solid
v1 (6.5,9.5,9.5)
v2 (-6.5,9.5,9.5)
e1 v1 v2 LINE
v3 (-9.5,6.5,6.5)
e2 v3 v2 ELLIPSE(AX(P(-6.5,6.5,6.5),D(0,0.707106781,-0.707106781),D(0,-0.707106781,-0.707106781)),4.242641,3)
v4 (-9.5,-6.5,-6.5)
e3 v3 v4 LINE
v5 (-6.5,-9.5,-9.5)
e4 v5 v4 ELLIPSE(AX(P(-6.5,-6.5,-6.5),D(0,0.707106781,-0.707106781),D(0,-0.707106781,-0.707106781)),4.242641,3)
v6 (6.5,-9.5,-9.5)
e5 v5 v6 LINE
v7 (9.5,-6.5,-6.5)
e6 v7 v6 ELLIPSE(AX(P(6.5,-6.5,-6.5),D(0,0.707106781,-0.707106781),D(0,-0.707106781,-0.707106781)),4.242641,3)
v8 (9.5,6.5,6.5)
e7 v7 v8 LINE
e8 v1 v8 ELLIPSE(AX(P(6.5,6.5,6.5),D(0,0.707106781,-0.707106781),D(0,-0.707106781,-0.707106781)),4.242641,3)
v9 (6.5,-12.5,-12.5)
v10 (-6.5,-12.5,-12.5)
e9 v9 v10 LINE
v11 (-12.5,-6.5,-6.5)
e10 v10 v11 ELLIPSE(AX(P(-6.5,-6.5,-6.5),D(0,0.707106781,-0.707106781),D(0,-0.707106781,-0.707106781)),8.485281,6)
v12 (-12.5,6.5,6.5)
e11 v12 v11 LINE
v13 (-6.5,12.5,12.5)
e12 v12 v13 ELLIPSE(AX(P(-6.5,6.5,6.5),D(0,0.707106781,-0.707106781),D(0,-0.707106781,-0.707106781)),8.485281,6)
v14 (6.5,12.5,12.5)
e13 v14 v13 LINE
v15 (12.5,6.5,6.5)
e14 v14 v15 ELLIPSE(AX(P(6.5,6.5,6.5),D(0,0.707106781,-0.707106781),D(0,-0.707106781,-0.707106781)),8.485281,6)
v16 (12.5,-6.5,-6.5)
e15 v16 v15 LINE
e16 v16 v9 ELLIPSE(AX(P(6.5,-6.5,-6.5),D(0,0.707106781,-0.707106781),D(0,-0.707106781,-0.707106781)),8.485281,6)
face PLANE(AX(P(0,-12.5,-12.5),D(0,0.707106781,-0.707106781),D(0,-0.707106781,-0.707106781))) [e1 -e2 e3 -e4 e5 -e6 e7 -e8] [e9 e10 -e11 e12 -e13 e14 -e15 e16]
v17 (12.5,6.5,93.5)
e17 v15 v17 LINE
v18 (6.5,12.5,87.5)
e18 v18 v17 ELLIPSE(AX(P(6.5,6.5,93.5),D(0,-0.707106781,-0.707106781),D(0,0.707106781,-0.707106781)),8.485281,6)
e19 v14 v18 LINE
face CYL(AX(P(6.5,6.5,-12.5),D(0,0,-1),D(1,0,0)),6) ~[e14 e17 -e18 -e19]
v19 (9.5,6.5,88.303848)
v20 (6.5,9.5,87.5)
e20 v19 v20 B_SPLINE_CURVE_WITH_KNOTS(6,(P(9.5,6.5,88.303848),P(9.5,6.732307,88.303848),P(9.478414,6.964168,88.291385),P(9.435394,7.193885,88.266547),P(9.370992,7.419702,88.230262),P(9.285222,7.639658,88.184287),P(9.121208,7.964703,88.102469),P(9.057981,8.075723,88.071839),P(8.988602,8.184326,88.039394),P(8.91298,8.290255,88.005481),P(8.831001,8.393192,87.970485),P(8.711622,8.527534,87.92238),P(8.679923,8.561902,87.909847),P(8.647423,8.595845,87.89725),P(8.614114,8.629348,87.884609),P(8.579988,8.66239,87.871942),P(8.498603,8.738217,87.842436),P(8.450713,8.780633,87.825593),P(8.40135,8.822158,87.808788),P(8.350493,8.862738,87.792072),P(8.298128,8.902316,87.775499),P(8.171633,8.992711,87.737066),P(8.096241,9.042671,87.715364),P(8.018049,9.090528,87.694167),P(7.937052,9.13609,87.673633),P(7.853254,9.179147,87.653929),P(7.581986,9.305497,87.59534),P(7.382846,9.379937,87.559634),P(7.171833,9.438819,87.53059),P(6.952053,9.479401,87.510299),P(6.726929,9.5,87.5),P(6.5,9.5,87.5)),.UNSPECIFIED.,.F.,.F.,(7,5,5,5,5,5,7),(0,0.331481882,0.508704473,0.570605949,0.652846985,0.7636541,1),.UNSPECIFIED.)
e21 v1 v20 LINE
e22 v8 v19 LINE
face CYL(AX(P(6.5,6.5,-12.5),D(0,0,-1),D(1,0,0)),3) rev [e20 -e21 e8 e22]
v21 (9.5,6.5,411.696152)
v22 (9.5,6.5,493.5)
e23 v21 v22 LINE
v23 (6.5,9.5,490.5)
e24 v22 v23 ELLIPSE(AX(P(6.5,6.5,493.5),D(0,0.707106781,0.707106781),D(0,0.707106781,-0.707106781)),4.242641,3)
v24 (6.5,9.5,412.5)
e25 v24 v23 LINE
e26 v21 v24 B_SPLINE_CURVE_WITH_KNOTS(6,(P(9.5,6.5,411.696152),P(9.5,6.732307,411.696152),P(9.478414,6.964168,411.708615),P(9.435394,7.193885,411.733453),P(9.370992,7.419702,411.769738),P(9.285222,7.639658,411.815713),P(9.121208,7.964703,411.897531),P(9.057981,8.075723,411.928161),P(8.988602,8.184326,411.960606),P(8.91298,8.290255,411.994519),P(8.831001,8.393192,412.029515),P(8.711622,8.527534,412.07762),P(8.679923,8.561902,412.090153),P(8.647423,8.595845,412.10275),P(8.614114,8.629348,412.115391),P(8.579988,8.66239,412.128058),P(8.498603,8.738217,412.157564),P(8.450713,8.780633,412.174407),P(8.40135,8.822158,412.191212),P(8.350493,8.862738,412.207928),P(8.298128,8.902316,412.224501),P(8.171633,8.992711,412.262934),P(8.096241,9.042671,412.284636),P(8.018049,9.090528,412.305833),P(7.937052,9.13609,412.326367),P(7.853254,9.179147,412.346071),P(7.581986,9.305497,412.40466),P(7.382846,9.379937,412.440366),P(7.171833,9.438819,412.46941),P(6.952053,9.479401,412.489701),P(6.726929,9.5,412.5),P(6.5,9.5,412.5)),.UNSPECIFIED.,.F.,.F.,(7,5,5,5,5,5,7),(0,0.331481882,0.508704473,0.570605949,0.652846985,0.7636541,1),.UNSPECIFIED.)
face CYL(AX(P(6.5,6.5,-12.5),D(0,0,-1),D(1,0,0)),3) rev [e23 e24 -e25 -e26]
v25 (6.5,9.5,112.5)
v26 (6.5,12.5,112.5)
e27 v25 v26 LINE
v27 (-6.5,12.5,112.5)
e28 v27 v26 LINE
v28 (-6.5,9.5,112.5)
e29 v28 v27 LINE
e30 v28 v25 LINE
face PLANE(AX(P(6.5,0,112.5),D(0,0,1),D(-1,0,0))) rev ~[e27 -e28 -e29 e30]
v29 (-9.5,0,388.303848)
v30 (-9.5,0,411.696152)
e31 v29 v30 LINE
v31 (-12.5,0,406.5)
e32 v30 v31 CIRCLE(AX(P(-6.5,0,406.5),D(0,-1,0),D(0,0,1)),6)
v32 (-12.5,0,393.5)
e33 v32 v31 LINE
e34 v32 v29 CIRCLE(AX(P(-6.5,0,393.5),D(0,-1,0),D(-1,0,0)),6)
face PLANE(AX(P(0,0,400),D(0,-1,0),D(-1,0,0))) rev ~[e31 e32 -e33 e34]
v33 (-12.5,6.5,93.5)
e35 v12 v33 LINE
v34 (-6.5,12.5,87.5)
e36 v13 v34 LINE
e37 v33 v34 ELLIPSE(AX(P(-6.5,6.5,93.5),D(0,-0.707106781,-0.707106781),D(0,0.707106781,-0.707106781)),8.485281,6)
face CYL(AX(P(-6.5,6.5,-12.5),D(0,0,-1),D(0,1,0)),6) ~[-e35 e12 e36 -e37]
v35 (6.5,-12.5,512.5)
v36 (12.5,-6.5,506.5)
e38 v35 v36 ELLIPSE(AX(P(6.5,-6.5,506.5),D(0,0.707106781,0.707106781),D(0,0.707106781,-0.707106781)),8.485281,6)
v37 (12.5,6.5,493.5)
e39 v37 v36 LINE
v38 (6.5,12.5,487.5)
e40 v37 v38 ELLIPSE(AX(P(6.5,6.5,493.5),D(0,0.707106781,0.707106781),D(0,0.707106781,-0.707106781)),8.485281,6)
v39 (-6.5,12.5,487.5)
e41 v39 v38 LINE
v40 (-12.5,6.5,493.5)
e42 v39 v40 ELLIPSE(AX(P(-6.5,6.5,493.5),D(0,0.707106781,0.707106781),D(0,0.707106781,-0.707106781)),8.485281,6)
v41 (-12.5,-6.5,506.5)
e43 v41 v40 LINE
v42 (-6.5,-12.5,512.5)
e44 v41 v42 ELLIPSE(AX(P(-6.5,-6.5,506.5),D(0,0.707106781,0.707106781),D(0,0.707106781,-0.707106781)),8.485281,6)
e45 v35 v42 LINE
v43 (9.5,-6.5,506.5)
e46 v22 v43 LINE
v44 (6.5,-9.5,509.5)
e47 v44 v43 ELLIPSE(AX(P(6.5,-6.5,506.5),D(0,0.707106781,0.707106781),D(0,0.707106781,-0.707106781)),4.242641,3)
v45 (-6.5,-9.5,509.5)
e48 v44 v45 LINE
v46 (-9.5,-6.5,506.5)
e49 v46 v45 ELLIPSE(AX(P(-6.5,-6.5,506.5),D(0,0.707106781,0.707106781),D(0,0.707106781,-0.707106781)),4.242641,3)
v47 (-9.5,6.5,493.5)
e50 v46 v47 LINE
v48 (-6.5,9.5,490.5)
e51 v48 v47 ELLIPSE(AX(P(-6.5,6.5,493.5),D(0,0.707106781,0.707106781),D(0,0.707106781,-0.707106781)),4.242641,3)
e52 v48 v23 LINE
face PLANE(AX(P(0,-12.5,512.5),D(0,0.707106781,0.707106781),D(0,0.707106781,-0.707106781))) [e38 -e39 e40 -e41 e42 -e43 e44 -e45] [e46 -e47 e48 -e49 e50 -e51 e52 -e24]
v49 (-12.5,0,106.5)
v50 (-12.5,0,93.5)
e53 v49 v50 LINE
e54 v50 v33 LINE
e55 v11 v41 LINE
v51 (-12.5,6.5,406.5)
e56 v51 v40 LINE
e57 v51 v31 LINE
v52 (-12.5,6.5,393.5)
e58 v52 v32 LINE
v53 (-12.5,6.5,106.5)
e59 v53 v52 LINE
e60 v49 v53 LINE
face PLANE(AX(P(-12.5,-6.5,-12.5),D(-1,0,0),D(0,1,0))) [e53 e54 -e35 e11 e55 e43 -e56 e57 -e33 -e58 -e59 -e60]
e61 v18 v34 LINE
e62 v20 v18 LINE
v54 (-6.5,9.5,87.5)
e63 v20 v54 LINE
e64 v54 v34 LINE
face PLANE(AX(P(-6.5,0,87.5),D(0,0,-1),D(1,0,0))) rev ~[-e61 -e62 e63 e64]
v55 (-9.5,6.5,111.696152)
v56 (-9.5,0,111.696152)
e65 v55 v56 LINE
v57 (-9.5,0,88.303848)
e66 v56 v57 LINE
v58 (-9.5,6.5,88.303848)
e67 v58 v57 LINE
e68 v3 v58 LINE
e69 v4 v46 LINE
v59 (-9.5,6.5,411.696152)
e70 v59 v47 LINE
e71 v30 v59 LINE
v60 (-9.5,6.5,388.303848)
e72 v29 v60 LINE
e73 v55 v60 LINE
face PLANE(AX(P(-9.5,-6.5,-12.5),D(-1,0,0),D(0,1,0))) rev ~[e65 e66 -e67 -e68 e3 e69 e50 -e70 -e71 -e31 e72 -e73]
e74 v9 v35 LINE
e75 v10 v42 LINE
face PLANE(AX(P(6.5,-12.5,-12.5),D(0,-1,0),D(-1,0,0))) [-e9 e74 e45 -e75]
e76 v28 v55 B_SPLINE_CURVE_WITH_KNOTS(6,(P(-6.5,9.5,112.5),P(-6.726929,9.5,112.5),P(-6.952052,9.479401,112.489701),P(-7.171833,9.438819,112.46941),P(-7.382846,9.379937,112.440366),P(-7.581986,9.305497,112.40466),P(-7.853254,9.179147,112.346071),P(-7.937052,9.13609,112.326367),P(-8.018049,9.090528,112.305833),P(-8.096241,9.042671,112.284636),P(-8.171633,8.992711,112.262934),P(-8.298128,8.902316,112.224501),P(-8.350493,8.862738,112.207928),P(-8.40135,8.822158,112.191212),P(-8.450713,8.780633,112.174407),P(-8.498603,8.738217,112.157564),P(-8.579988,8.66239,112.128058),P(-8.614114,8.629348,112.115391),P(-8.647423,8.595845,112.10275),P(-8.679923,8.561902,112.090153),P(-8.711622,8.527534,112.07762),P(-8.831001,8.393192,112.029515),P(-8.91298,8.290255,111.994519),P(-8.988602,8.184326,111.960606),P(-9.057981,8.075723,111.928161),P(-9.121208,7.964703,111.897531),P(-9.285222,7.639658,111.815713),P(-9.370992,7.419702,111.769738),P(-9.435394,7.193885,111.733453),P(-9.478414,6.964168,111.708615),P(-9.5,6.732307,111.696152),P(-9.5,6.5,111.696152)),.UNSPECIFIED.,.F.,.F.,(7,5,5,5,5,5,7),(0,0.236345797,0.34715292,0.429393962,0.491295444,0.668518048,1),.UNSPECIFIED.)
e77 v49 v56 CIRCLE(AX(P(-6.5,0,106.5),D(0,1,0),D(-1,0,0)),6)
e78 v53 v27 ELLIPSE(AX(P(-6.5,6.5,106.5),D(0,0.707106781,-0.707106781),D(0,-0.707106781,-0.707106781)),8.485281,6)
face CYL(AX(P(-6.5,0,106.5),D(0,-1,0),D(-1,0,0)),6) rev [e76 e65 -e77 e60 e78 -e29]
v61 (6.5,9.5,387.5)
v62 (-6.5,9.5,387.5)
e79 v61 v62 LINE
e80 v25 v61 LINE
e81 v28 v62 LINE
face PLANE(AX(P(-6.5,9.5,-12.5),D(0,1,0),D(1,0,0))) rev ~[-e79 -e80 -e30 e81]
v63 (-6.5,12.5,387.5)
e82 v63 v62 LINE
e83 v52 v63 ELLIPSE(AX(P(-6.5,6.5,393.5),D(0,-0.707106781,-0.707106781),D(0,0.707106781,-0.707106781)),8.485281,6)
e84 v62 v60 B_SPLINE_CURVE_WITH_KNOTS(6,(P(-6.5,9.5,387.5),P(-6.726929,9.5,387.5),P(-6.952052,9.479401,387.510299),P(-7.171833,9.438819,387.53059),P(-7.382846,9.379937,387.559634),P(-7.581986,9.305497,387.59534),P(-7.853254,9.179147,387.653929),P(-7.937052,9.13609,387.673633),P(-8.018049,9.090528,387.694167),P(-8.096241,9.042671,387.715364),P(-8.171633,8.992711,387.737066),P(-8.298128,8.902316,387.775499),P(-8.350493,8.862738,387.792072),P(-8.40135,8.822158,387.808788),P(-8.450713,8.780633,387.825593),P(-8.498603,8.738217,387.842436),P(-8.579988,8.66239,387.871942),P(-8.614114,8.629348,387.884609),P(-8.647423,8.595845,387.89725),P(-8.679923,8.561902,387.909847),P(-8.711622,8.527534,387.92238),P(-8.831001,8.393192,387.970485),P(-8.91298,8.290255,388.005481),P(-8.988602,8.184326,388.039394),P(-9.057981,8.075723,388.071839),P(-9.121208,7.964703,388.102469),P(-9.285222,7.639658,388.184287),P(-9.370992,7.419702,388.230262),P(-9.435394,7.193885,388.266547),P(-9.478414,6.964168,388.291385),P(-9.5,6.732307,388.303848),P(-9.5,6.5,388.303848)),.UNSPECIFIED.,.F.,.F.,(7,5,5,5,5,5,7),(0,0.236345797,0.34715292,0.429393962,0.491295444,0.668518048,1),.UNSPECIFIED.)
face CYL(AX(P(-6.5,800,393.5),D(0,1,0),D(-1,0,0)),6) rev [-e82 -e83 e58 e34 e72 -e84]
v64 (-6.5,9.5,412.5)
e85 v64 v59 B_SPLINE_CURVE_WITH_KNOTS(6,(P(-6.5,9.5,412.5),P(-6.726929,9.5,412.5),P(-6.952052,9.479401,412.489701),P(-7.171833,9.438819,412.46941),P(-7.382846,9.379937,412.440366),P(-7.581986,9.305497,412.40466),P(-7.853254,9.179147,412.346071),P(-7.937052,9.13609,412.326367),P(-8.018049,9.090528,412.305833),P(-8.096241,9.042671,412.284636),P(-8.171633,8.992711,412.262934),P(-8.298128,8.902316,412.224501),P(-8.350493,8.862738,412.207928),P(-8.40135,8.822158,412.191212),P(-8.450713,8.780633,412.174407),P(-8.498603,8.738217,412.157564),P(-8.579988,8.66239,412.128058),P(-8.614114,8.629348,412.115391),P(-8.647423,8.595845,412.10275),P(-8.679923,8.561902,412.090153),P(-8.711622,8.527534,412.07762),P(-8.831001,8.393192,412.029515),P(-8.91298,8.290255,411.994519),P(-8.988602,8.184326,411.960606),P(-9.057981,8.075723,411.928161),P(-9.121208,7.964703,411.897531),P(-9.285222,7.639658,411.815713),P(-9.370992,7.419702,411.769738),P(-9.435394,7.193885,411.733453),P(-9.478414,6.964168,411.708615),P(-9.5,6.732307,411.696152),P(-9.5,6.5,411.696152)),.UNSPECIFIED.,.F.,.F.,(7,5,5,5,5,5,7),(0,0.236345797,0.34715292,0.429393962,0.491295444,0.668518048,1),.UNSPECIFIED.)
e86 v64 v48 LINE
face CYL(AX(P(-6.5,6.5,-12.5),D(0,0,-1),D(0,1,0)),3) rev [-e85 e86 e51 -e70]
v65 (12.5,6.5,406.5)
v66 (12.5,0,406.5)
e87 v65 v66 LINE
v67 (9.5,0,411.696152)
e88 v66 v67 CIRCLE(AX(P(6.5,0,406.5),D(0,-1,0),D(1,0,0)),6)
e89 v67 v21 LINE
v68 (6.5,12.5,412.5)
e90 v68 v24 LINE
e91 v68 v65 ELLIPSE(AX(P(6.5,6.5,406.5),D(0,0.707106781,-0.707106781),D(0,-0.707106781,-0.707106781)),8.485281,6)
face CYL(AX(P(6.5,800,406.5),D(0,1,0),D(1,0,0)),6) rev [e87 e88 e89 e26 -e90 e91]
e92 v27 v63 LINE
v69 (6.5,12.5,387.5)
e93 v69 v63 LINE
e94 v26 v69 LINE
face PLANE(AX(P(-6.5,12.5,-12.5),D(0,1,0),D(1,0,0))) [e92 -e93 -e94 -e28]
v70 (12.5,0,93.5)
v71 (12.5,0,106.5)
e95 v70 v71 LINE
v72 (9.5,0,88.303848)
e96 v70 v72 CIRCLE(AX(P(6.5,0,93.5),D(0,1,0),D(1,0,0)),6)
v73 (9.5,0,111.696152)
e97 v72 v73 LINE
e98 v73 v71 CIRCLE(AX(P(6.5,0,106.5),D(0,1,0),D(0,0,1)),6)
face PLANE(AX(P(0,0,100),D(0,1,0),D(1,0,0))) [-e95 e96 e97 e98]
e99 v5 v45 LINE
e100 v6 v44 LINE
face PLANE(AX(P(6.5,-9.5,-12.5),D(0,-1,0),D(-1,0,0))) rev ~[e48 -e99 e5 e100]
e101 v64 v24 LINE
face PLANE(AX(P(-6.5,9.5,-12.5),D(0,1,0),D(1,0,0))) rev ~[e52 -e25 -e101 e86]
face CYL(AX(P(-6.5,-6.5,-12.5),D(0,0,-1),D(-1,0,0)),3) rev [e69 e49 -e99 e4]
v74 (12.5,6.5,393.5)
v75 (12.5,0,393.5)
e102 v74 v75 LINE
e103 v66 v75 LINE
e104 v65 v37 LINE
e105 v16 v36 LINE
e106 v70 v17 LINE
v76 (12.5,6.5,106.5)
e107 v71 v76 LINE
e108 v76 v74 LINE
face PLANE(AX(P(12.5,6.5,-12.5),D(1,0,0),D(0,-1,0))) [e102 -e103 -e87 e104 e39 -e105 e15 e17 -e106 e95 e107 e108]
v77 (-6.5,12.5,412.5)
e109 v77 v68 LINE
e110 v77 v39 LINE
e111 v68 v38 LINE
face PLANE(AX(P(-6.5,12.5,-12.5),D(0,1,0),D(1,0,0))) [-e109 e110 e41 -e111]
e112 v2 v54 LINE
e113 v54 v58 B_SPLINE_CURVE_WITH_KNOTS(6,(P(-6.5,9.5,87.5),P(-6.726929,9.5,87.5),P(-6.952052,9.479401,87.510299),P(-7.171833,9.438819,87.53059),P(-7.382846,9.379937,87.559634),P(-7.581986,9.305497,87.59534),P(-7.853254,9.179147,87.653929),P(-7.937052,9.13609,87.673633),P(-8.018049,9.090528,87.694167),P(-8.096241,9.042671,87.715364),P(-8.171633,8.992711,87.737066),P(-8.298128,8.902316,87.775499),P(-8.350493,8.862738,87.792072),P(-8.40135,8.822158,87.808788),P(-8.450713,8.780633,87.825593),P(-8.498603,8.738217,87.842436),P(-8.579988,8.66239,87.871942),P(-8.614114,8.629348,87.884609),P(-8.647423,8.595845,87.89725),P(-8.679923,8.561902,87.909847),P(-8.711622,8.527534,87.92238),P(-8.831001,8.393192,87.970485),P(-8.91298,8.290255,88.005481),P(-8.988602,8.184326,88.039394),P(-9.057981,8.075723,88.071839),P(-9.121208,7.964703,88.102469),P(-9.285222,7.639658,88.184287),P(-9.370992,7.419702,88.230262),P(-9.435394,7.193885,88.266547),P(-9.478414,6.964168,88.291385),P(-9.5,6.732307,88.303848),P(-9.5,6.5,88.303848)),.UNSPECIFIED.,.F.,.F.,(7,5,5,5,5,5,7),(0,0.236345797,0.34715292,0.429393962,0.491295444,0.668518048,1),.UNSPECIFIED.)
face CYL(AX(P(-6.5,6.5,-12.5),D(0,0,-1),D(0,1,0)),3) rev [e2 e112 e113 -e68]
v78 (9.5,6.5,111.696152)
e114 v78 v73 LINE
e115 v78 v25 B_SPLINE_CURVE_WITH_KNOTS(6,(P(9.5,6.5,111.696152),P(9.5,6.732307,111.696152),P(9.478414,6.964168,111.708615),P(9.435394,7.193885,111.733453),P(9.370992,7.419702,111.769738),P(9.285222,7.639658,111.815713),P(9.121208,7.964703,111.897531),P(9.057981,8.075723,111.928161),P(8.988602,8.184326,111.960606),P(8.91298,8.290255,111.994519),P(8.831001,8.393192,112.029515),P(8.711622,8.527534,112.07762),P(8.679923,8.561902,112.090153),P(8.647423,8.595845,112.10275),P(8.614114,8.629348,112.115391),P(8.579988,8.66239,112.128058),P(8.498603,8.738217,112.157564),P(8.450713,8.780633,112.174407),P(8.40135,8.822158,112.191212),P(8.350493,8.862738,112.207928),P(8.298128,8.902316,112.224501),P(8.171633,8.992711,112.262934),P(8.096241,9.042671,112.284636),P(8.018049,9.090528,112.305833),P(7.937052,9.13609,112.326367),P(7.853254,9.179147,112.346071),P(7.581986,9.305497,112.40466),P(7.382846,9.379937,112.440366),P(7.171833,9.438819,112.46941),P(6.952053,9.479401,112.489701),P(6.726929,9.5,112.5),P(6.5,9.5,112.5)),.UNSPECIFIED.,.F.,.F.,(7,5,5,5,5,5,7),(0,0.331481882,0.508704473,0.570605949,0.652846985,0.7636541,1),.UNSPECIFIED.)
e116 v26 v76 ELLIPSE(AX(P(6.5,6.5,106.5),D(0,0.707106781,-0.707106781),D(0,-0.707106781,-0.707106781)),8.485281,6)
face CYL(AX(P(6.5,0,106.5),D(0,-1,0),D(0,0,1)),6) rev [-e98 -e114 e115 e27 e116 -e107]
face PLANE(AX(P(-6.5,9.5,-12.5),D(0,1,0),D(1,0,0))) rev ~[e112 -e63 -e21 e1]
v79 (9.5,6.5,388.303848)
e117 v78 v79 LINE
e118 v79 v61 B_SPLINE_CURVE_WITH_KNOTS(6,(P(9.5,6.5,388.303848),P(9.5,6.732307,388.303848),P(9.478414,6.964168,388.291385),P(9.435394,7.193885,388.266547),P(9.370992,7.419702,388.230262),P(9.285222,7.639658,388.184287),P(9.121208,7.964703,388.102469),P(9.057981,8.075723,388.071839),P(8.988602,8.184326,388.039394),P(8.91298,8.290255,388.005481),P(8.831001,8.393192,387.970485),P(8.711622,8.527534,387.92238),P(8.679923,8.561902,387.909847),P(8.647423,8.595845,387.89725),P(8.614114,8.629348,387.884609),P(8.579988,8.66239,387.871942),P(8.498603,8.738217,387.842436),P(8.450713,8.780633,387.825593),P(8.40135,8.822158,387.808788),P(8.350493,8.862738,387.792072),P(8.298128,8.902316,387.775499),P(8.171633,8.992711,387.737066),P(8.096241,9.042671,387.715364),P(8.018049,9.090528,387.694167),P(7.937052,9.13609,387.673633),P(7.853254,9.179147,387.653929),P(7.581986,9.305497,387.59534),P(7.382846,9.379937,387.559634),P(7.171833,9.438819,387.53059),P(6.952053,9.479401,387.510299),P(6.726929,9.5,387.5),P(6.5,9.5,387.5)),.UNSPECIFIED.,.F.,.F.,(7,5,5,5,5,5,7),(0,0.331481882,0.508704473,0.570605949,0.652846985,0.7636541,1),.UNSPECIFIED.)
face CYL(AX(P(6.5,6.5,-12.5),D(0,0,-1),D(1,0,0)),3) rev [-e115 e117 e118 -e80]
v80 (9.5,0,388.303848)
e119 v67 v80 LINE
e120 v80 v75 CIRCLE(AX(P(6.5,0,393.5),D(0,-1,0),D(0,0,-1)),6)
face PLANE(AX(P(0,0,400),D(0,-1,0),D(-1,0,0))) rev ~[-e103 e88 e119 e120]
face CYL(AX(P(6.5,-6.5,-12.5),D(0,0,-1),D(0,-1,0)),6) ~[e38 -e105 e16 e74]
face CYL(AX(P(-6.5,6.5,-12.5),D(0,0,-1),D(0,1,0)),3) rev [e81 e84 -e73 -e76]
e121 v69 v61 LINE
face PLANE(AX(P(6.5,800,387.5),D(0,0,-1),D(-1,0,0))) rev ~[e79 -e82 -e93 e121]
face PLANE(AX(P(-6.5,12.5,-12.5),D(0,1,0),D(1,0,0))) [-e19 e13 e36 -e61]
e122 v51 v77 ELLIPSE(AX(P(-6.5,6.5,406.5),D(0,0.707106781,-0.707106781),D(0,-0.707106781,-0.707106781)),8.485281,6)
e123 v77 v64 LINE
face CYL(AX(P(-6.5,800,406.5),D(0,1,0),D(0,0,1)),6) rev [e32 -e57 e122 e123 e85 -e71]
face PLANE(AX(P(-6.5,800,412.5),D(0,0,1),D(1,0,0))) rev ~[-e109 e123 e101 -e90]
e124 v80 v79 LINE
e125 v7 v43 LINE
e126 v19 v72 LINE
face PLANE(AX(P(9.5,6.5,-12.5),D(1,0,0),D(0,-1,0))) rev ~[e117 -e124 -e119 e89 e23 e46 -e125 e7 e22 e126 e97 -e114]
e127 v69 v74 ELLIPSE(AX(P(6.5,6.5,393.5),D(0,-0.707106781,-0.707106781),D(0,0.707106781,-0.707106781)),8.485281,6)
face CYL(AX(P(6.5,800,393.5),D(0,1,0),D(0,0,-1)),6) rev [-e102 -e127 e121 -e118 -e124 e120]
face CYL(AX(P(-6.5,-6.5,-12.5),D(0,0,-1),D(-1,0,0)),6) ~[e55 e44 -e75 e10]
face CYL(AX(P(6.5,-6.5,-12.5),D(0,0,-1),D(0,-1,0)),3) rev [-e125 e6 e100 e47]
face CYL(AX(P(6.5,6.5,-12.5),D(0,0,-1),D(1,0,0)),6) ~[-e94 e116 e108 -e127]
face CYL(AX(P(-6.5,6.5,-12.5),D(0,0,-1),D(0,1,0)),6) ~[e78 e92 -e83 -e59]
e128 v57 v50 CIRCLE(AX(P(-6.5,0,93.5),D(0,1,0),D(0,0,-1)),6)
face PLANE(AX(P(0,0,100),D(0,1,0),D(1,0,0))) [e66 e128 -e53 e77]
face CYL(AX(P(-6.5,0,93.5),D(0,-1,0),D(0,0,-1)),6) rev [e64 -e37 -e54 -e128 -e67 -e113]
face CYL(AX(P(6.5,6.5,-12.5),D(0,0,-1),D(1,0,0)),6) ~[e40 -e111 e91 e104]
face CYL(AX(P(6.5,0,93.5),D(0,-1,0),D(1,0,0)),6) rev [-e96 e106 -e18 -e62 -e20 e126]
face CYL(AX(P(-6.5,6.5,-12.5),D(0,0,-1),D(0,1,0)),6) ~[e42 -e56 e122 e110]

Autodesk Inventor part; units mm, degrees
ref_plane "Start plane" through (0, 0, -12.5) normal (0, 0, 1) x (1, 0, 0)
ref_plane "End plane" through (0, 0, 512.5) normal (0, 0, 1) x (1, 0, 0)
sketch "Sketch" plane through (0, 0, 0) normal (0, 0, 1) x (1, 0, 0)
  line L0 (-12.5, -6.5) -> (-12.5, 6.5)
  line L1 (-6.5, 12.5) -> (6.5, 12.5)
  line L2 (12.5, 6.5) -> (12.5, -6.5)
  line L3 (6.5, -12.5) -> (-6.5, -12.5)
  arc A0 (-12.5, -6.5) -> (-6.5, -12.5) centre (-6.5, -6.5) ccw
  arc A1 (-6.5, 12.5) -> (-12.5, 6.5) centre (-6.5, 6.5) ccw
  arc A2 (12.5, 6.5) -> (6.5, 12.5) centre (6.5, 6.5) ccw
  arc A3 (6.5, -12.5) -> (12.5, -6.5) centre (6.5, -6.5) ccw
  arc A4 (-6.5, 9.5) -> (-9.5, 6.5) centre (-6.5, 6.5) ccw
  line L4 (-6.5, 9.5) -> (6.5, 9.5)
  arc A5 (9.5, 6.5) -> (6.5, 9.5) centre (6.5, 6.5) ccw
  line L5 (9.5, 6.5) -> (9.5, -6.5)
  arc A6 (6.5, -9.5) -> (9.5, -6.5) centre (6.5, -6.5) ccw
  line L6 (6.5, -9.5) -> (-6.5, -9.5)
  arc A7 (-9.5, -6.5) -> (-6.5, -9.5) centre (-6.5, -6.5) ccw
  line L7 (-9.5, -6.5) -> (-9.5, 6.5)
  line L8 (0, 19.2397) -> (0, -19.2397) construction
  line L9 (-19.2397, 0) -> (19.2397, 0) construction
  dimension "d7" = 6
  dimension "d10" = 25
  dimension "d11" = 25
  dimension "d12" = 3
  dimension "d15" = 12.5
  dimension "d16" = 12.5
extrude "Body" add sketch "Sketch" along normal up to surface (525 mm away) from surface at -12.5
sketch "Sketch3" plane through (0, 0, 0) normal (0, 0, 1) x (1, 0, 0)
  line L0 (0, 0) -> (10, 0)
ref_plane "Work Plane3" through (0, 0, 0) normal (0, -1, 0) x (1, 0, 0)
sketch "Sketch4" plane through (0, 0, 0) normal (0, -1, 0) x (1, 0, 0)
  line L0 (-2, -12.5) -> (12, -12.5)
  line L1 (-2, 512.5) -> (12, 512.5)
  dimension "d18" = 525
ref_plane "Work Plane4" through (0, 0, 512.5) normal (0, 0, 1) x (1, 0, 0)
split "Split1" plane through (0, 0, 512.5) removes the side toward (0, 0, 1)
ref_plane "Work Plane5" through (0, -12.5, -12.5) normal (0, 0.7071, -0.7071) x (1, 0, 0)
split "Split2" plane through (0, -12.5, -12.5) removes the side toward (0, 0.7071, -0.7071)
ref_plane "Work Plane6" through (0, -12.5, 512.5) normal (0, 0.7071, 0.7071) x (1, 0, 0)
split "Split3" plane through (0, -12.5, 512.5) removes the side toward (0, 0.7071, 0.7071)
ref_plane "Work Plane7" through (0, 0, 100) normal (0, 1, 0) x (1, 0, 0)
ref_plane "Work Plane8" through (0, 800, 100) normal (0, 1, 0) x (1, 0, 0)
ref_plane "Work Plane9" through (0, 400, 100) normal (0, 1, 0) x (1, 0, 0)
sketch "Sketch5" plane through (0, 400, 100) normal (0, 1, 0) x (1, 0, 0)
  arc A0 (-12.5, -6.5) -> (-6.5, -12.5) centre (-6.5, -6.5) ccw
  line L0 (-12.5, -6.5) -> (-12.5, 6.5)
  arc A1 (-6.5, 12.5) -> (-12.5, 6.5) centre (-6.5, 6.5) ccw
  line L1 (-6.5, 12.5) -> (6.5, 12.5)
  arc A2 (12.5, 6.5) -> (6.5, 12.5) centre (6.5, 6.5) ccw
  line L2 (12.5, 6.5) -> (12.5, -6.5)
  arc A3 (6.5, -12.5) -> (12.5, -6.5) centre (6.5, -6.5) ccw
  line L3 (6.5, -12.5) -> (-6.5, -12.5)
  arc A4 (-6.5, 9.5) -> (-9.5, 6.5) centre (-6.5, 6.5) ccw
  line L4 (-6.5, 9.5) -> (6.5, 9.5)
  arc A5 (9.5, 6.5) -> (6.5, 9.5) centre (6.5, 6.5) ccw
  line L5 (9.5, 6.5) -> (9.5, -6.5)
  arc A6 (6.5, -9.5) -> (9.5, -6.5) centre (6.5, -6.5) ccw
  line L6 (6.5, -9.5) -> (-6.5, -9.5)
  arc A7 (-9.5, -6.5) -> (-6.5, -9.5) centre (-6.5, -6.5) ccw
  line L7 (-9.5, -6.5) -> (-9.5, 6.5)
extrude "Extrusion2" cut sketch "Sketch5" along normal up to surface (800 mm away) from surface at -400 contours L0 A1 L1 A2 L2 A3 L3 A0 | L4 A5 L5 A6 L6 A7 L7 A4
ref_plane "Work Plane10" through (0, 800, 400) normal (0, -1, 0) x (-1, 0, 0)
ref_plane "Work Plane11" through (0, 0, 400) normal (0, -1, 0) x (-1, 0, 0)
ref_plane "Work Plane12" through (0, 400, 400) normal (0, -1, 0) x (-1, 0, 0)
sketch "Sketch6" plane through (0, 400, 400) normal (0, -1, 0) x (-1, 0, 0)
  arc A0 (-12.5, -6.5) -> (-6.5, -12.5) centre (-6.5, -6.5) ccw
  line L0 (-12.5, -6.5) -> (-12.5, 6.5)
  arc A1 (-6.5, 12.5) -> (-12.5, 6.5) centre (-6.5, 6.5) ccw
  line L1 (-6.5, 12.5) -> (6.5, 12.5)
  arc A2 (12.5, 6.5) -> (6.5, 12.5) centre (6.5, 6.5) ccw
  line L2 (12.5, 6.5) -> (12.5, -6.5)
  arc A3 (6.5, -12.5) -> (12.5, -6.5) centre (6.5, -6.5) ccw
  line L3 (6.5, -12.5) -> (-6.5, -12.5)
  arc A4 (-6.5, 9.5) -> (-9.5, 6.5) centre (-6.5, 6.5) ccw
  line L4 (-6.5, 9.5) -> (6.5, 9.5)
  arc A5 (9.5, 6.5) -> (6.5, 9.5) centre (6.5, 6.5) ccw
  line L5 (9.5, 6.5) -> (9.5, -6.5)
  arc A6 (6.5, -9.5) -> (9.5, -6.5) centre (6.5, -6.5) ccw
  line L6 (6.5, -9.5) -> (-6.5, -9.5)
  arc A7 (-9.5, -6.5) -> (-6.5, -9.5) centre (-6.5, -6.5) ccw
  line L7 (-9.5, -6.5) -> (-9.5, 6.5)
extrude "Extrusion3" cut sketch "Sketch6" along normal up to surface (800 mm away) from surface at -400 contours L0 A1 L1 A2 L2 A3 L3 A0 | L4 A5 L5 A6 L6 A7 L7 A4
equation "\"d7\" = G_IR"
equation "\"d10\" = G_H"
equation "\"d11\" = G_W"
equation "\"d12\" = G_T"
equation "\"d15\" = 0.5 * d10"
equation "\"d16\" = 0.5 * d11"
equation "\"d3\" = G_L"
equation "\"G_W\" = 25"
equation "\"G_H\" = 25"
equation "\"G_T\" = 3"
equation "\"G_IR\" = 6"
equation "\"G_L\" = d18"
equation "\"G_OFFSET_START\" = 12.5"
equation "\"G_OFFSET_END\" = 12.5"
equation "\"d13\" = -G_OFFSET_START"
equation "\"d14\" = G_OFFSET_END + B_L"
equation "\"B_L\" = 500"
properties part number "AS 1163 - C350L0 25x25x3.0 SHS - 525" material "Steel, Mild"
